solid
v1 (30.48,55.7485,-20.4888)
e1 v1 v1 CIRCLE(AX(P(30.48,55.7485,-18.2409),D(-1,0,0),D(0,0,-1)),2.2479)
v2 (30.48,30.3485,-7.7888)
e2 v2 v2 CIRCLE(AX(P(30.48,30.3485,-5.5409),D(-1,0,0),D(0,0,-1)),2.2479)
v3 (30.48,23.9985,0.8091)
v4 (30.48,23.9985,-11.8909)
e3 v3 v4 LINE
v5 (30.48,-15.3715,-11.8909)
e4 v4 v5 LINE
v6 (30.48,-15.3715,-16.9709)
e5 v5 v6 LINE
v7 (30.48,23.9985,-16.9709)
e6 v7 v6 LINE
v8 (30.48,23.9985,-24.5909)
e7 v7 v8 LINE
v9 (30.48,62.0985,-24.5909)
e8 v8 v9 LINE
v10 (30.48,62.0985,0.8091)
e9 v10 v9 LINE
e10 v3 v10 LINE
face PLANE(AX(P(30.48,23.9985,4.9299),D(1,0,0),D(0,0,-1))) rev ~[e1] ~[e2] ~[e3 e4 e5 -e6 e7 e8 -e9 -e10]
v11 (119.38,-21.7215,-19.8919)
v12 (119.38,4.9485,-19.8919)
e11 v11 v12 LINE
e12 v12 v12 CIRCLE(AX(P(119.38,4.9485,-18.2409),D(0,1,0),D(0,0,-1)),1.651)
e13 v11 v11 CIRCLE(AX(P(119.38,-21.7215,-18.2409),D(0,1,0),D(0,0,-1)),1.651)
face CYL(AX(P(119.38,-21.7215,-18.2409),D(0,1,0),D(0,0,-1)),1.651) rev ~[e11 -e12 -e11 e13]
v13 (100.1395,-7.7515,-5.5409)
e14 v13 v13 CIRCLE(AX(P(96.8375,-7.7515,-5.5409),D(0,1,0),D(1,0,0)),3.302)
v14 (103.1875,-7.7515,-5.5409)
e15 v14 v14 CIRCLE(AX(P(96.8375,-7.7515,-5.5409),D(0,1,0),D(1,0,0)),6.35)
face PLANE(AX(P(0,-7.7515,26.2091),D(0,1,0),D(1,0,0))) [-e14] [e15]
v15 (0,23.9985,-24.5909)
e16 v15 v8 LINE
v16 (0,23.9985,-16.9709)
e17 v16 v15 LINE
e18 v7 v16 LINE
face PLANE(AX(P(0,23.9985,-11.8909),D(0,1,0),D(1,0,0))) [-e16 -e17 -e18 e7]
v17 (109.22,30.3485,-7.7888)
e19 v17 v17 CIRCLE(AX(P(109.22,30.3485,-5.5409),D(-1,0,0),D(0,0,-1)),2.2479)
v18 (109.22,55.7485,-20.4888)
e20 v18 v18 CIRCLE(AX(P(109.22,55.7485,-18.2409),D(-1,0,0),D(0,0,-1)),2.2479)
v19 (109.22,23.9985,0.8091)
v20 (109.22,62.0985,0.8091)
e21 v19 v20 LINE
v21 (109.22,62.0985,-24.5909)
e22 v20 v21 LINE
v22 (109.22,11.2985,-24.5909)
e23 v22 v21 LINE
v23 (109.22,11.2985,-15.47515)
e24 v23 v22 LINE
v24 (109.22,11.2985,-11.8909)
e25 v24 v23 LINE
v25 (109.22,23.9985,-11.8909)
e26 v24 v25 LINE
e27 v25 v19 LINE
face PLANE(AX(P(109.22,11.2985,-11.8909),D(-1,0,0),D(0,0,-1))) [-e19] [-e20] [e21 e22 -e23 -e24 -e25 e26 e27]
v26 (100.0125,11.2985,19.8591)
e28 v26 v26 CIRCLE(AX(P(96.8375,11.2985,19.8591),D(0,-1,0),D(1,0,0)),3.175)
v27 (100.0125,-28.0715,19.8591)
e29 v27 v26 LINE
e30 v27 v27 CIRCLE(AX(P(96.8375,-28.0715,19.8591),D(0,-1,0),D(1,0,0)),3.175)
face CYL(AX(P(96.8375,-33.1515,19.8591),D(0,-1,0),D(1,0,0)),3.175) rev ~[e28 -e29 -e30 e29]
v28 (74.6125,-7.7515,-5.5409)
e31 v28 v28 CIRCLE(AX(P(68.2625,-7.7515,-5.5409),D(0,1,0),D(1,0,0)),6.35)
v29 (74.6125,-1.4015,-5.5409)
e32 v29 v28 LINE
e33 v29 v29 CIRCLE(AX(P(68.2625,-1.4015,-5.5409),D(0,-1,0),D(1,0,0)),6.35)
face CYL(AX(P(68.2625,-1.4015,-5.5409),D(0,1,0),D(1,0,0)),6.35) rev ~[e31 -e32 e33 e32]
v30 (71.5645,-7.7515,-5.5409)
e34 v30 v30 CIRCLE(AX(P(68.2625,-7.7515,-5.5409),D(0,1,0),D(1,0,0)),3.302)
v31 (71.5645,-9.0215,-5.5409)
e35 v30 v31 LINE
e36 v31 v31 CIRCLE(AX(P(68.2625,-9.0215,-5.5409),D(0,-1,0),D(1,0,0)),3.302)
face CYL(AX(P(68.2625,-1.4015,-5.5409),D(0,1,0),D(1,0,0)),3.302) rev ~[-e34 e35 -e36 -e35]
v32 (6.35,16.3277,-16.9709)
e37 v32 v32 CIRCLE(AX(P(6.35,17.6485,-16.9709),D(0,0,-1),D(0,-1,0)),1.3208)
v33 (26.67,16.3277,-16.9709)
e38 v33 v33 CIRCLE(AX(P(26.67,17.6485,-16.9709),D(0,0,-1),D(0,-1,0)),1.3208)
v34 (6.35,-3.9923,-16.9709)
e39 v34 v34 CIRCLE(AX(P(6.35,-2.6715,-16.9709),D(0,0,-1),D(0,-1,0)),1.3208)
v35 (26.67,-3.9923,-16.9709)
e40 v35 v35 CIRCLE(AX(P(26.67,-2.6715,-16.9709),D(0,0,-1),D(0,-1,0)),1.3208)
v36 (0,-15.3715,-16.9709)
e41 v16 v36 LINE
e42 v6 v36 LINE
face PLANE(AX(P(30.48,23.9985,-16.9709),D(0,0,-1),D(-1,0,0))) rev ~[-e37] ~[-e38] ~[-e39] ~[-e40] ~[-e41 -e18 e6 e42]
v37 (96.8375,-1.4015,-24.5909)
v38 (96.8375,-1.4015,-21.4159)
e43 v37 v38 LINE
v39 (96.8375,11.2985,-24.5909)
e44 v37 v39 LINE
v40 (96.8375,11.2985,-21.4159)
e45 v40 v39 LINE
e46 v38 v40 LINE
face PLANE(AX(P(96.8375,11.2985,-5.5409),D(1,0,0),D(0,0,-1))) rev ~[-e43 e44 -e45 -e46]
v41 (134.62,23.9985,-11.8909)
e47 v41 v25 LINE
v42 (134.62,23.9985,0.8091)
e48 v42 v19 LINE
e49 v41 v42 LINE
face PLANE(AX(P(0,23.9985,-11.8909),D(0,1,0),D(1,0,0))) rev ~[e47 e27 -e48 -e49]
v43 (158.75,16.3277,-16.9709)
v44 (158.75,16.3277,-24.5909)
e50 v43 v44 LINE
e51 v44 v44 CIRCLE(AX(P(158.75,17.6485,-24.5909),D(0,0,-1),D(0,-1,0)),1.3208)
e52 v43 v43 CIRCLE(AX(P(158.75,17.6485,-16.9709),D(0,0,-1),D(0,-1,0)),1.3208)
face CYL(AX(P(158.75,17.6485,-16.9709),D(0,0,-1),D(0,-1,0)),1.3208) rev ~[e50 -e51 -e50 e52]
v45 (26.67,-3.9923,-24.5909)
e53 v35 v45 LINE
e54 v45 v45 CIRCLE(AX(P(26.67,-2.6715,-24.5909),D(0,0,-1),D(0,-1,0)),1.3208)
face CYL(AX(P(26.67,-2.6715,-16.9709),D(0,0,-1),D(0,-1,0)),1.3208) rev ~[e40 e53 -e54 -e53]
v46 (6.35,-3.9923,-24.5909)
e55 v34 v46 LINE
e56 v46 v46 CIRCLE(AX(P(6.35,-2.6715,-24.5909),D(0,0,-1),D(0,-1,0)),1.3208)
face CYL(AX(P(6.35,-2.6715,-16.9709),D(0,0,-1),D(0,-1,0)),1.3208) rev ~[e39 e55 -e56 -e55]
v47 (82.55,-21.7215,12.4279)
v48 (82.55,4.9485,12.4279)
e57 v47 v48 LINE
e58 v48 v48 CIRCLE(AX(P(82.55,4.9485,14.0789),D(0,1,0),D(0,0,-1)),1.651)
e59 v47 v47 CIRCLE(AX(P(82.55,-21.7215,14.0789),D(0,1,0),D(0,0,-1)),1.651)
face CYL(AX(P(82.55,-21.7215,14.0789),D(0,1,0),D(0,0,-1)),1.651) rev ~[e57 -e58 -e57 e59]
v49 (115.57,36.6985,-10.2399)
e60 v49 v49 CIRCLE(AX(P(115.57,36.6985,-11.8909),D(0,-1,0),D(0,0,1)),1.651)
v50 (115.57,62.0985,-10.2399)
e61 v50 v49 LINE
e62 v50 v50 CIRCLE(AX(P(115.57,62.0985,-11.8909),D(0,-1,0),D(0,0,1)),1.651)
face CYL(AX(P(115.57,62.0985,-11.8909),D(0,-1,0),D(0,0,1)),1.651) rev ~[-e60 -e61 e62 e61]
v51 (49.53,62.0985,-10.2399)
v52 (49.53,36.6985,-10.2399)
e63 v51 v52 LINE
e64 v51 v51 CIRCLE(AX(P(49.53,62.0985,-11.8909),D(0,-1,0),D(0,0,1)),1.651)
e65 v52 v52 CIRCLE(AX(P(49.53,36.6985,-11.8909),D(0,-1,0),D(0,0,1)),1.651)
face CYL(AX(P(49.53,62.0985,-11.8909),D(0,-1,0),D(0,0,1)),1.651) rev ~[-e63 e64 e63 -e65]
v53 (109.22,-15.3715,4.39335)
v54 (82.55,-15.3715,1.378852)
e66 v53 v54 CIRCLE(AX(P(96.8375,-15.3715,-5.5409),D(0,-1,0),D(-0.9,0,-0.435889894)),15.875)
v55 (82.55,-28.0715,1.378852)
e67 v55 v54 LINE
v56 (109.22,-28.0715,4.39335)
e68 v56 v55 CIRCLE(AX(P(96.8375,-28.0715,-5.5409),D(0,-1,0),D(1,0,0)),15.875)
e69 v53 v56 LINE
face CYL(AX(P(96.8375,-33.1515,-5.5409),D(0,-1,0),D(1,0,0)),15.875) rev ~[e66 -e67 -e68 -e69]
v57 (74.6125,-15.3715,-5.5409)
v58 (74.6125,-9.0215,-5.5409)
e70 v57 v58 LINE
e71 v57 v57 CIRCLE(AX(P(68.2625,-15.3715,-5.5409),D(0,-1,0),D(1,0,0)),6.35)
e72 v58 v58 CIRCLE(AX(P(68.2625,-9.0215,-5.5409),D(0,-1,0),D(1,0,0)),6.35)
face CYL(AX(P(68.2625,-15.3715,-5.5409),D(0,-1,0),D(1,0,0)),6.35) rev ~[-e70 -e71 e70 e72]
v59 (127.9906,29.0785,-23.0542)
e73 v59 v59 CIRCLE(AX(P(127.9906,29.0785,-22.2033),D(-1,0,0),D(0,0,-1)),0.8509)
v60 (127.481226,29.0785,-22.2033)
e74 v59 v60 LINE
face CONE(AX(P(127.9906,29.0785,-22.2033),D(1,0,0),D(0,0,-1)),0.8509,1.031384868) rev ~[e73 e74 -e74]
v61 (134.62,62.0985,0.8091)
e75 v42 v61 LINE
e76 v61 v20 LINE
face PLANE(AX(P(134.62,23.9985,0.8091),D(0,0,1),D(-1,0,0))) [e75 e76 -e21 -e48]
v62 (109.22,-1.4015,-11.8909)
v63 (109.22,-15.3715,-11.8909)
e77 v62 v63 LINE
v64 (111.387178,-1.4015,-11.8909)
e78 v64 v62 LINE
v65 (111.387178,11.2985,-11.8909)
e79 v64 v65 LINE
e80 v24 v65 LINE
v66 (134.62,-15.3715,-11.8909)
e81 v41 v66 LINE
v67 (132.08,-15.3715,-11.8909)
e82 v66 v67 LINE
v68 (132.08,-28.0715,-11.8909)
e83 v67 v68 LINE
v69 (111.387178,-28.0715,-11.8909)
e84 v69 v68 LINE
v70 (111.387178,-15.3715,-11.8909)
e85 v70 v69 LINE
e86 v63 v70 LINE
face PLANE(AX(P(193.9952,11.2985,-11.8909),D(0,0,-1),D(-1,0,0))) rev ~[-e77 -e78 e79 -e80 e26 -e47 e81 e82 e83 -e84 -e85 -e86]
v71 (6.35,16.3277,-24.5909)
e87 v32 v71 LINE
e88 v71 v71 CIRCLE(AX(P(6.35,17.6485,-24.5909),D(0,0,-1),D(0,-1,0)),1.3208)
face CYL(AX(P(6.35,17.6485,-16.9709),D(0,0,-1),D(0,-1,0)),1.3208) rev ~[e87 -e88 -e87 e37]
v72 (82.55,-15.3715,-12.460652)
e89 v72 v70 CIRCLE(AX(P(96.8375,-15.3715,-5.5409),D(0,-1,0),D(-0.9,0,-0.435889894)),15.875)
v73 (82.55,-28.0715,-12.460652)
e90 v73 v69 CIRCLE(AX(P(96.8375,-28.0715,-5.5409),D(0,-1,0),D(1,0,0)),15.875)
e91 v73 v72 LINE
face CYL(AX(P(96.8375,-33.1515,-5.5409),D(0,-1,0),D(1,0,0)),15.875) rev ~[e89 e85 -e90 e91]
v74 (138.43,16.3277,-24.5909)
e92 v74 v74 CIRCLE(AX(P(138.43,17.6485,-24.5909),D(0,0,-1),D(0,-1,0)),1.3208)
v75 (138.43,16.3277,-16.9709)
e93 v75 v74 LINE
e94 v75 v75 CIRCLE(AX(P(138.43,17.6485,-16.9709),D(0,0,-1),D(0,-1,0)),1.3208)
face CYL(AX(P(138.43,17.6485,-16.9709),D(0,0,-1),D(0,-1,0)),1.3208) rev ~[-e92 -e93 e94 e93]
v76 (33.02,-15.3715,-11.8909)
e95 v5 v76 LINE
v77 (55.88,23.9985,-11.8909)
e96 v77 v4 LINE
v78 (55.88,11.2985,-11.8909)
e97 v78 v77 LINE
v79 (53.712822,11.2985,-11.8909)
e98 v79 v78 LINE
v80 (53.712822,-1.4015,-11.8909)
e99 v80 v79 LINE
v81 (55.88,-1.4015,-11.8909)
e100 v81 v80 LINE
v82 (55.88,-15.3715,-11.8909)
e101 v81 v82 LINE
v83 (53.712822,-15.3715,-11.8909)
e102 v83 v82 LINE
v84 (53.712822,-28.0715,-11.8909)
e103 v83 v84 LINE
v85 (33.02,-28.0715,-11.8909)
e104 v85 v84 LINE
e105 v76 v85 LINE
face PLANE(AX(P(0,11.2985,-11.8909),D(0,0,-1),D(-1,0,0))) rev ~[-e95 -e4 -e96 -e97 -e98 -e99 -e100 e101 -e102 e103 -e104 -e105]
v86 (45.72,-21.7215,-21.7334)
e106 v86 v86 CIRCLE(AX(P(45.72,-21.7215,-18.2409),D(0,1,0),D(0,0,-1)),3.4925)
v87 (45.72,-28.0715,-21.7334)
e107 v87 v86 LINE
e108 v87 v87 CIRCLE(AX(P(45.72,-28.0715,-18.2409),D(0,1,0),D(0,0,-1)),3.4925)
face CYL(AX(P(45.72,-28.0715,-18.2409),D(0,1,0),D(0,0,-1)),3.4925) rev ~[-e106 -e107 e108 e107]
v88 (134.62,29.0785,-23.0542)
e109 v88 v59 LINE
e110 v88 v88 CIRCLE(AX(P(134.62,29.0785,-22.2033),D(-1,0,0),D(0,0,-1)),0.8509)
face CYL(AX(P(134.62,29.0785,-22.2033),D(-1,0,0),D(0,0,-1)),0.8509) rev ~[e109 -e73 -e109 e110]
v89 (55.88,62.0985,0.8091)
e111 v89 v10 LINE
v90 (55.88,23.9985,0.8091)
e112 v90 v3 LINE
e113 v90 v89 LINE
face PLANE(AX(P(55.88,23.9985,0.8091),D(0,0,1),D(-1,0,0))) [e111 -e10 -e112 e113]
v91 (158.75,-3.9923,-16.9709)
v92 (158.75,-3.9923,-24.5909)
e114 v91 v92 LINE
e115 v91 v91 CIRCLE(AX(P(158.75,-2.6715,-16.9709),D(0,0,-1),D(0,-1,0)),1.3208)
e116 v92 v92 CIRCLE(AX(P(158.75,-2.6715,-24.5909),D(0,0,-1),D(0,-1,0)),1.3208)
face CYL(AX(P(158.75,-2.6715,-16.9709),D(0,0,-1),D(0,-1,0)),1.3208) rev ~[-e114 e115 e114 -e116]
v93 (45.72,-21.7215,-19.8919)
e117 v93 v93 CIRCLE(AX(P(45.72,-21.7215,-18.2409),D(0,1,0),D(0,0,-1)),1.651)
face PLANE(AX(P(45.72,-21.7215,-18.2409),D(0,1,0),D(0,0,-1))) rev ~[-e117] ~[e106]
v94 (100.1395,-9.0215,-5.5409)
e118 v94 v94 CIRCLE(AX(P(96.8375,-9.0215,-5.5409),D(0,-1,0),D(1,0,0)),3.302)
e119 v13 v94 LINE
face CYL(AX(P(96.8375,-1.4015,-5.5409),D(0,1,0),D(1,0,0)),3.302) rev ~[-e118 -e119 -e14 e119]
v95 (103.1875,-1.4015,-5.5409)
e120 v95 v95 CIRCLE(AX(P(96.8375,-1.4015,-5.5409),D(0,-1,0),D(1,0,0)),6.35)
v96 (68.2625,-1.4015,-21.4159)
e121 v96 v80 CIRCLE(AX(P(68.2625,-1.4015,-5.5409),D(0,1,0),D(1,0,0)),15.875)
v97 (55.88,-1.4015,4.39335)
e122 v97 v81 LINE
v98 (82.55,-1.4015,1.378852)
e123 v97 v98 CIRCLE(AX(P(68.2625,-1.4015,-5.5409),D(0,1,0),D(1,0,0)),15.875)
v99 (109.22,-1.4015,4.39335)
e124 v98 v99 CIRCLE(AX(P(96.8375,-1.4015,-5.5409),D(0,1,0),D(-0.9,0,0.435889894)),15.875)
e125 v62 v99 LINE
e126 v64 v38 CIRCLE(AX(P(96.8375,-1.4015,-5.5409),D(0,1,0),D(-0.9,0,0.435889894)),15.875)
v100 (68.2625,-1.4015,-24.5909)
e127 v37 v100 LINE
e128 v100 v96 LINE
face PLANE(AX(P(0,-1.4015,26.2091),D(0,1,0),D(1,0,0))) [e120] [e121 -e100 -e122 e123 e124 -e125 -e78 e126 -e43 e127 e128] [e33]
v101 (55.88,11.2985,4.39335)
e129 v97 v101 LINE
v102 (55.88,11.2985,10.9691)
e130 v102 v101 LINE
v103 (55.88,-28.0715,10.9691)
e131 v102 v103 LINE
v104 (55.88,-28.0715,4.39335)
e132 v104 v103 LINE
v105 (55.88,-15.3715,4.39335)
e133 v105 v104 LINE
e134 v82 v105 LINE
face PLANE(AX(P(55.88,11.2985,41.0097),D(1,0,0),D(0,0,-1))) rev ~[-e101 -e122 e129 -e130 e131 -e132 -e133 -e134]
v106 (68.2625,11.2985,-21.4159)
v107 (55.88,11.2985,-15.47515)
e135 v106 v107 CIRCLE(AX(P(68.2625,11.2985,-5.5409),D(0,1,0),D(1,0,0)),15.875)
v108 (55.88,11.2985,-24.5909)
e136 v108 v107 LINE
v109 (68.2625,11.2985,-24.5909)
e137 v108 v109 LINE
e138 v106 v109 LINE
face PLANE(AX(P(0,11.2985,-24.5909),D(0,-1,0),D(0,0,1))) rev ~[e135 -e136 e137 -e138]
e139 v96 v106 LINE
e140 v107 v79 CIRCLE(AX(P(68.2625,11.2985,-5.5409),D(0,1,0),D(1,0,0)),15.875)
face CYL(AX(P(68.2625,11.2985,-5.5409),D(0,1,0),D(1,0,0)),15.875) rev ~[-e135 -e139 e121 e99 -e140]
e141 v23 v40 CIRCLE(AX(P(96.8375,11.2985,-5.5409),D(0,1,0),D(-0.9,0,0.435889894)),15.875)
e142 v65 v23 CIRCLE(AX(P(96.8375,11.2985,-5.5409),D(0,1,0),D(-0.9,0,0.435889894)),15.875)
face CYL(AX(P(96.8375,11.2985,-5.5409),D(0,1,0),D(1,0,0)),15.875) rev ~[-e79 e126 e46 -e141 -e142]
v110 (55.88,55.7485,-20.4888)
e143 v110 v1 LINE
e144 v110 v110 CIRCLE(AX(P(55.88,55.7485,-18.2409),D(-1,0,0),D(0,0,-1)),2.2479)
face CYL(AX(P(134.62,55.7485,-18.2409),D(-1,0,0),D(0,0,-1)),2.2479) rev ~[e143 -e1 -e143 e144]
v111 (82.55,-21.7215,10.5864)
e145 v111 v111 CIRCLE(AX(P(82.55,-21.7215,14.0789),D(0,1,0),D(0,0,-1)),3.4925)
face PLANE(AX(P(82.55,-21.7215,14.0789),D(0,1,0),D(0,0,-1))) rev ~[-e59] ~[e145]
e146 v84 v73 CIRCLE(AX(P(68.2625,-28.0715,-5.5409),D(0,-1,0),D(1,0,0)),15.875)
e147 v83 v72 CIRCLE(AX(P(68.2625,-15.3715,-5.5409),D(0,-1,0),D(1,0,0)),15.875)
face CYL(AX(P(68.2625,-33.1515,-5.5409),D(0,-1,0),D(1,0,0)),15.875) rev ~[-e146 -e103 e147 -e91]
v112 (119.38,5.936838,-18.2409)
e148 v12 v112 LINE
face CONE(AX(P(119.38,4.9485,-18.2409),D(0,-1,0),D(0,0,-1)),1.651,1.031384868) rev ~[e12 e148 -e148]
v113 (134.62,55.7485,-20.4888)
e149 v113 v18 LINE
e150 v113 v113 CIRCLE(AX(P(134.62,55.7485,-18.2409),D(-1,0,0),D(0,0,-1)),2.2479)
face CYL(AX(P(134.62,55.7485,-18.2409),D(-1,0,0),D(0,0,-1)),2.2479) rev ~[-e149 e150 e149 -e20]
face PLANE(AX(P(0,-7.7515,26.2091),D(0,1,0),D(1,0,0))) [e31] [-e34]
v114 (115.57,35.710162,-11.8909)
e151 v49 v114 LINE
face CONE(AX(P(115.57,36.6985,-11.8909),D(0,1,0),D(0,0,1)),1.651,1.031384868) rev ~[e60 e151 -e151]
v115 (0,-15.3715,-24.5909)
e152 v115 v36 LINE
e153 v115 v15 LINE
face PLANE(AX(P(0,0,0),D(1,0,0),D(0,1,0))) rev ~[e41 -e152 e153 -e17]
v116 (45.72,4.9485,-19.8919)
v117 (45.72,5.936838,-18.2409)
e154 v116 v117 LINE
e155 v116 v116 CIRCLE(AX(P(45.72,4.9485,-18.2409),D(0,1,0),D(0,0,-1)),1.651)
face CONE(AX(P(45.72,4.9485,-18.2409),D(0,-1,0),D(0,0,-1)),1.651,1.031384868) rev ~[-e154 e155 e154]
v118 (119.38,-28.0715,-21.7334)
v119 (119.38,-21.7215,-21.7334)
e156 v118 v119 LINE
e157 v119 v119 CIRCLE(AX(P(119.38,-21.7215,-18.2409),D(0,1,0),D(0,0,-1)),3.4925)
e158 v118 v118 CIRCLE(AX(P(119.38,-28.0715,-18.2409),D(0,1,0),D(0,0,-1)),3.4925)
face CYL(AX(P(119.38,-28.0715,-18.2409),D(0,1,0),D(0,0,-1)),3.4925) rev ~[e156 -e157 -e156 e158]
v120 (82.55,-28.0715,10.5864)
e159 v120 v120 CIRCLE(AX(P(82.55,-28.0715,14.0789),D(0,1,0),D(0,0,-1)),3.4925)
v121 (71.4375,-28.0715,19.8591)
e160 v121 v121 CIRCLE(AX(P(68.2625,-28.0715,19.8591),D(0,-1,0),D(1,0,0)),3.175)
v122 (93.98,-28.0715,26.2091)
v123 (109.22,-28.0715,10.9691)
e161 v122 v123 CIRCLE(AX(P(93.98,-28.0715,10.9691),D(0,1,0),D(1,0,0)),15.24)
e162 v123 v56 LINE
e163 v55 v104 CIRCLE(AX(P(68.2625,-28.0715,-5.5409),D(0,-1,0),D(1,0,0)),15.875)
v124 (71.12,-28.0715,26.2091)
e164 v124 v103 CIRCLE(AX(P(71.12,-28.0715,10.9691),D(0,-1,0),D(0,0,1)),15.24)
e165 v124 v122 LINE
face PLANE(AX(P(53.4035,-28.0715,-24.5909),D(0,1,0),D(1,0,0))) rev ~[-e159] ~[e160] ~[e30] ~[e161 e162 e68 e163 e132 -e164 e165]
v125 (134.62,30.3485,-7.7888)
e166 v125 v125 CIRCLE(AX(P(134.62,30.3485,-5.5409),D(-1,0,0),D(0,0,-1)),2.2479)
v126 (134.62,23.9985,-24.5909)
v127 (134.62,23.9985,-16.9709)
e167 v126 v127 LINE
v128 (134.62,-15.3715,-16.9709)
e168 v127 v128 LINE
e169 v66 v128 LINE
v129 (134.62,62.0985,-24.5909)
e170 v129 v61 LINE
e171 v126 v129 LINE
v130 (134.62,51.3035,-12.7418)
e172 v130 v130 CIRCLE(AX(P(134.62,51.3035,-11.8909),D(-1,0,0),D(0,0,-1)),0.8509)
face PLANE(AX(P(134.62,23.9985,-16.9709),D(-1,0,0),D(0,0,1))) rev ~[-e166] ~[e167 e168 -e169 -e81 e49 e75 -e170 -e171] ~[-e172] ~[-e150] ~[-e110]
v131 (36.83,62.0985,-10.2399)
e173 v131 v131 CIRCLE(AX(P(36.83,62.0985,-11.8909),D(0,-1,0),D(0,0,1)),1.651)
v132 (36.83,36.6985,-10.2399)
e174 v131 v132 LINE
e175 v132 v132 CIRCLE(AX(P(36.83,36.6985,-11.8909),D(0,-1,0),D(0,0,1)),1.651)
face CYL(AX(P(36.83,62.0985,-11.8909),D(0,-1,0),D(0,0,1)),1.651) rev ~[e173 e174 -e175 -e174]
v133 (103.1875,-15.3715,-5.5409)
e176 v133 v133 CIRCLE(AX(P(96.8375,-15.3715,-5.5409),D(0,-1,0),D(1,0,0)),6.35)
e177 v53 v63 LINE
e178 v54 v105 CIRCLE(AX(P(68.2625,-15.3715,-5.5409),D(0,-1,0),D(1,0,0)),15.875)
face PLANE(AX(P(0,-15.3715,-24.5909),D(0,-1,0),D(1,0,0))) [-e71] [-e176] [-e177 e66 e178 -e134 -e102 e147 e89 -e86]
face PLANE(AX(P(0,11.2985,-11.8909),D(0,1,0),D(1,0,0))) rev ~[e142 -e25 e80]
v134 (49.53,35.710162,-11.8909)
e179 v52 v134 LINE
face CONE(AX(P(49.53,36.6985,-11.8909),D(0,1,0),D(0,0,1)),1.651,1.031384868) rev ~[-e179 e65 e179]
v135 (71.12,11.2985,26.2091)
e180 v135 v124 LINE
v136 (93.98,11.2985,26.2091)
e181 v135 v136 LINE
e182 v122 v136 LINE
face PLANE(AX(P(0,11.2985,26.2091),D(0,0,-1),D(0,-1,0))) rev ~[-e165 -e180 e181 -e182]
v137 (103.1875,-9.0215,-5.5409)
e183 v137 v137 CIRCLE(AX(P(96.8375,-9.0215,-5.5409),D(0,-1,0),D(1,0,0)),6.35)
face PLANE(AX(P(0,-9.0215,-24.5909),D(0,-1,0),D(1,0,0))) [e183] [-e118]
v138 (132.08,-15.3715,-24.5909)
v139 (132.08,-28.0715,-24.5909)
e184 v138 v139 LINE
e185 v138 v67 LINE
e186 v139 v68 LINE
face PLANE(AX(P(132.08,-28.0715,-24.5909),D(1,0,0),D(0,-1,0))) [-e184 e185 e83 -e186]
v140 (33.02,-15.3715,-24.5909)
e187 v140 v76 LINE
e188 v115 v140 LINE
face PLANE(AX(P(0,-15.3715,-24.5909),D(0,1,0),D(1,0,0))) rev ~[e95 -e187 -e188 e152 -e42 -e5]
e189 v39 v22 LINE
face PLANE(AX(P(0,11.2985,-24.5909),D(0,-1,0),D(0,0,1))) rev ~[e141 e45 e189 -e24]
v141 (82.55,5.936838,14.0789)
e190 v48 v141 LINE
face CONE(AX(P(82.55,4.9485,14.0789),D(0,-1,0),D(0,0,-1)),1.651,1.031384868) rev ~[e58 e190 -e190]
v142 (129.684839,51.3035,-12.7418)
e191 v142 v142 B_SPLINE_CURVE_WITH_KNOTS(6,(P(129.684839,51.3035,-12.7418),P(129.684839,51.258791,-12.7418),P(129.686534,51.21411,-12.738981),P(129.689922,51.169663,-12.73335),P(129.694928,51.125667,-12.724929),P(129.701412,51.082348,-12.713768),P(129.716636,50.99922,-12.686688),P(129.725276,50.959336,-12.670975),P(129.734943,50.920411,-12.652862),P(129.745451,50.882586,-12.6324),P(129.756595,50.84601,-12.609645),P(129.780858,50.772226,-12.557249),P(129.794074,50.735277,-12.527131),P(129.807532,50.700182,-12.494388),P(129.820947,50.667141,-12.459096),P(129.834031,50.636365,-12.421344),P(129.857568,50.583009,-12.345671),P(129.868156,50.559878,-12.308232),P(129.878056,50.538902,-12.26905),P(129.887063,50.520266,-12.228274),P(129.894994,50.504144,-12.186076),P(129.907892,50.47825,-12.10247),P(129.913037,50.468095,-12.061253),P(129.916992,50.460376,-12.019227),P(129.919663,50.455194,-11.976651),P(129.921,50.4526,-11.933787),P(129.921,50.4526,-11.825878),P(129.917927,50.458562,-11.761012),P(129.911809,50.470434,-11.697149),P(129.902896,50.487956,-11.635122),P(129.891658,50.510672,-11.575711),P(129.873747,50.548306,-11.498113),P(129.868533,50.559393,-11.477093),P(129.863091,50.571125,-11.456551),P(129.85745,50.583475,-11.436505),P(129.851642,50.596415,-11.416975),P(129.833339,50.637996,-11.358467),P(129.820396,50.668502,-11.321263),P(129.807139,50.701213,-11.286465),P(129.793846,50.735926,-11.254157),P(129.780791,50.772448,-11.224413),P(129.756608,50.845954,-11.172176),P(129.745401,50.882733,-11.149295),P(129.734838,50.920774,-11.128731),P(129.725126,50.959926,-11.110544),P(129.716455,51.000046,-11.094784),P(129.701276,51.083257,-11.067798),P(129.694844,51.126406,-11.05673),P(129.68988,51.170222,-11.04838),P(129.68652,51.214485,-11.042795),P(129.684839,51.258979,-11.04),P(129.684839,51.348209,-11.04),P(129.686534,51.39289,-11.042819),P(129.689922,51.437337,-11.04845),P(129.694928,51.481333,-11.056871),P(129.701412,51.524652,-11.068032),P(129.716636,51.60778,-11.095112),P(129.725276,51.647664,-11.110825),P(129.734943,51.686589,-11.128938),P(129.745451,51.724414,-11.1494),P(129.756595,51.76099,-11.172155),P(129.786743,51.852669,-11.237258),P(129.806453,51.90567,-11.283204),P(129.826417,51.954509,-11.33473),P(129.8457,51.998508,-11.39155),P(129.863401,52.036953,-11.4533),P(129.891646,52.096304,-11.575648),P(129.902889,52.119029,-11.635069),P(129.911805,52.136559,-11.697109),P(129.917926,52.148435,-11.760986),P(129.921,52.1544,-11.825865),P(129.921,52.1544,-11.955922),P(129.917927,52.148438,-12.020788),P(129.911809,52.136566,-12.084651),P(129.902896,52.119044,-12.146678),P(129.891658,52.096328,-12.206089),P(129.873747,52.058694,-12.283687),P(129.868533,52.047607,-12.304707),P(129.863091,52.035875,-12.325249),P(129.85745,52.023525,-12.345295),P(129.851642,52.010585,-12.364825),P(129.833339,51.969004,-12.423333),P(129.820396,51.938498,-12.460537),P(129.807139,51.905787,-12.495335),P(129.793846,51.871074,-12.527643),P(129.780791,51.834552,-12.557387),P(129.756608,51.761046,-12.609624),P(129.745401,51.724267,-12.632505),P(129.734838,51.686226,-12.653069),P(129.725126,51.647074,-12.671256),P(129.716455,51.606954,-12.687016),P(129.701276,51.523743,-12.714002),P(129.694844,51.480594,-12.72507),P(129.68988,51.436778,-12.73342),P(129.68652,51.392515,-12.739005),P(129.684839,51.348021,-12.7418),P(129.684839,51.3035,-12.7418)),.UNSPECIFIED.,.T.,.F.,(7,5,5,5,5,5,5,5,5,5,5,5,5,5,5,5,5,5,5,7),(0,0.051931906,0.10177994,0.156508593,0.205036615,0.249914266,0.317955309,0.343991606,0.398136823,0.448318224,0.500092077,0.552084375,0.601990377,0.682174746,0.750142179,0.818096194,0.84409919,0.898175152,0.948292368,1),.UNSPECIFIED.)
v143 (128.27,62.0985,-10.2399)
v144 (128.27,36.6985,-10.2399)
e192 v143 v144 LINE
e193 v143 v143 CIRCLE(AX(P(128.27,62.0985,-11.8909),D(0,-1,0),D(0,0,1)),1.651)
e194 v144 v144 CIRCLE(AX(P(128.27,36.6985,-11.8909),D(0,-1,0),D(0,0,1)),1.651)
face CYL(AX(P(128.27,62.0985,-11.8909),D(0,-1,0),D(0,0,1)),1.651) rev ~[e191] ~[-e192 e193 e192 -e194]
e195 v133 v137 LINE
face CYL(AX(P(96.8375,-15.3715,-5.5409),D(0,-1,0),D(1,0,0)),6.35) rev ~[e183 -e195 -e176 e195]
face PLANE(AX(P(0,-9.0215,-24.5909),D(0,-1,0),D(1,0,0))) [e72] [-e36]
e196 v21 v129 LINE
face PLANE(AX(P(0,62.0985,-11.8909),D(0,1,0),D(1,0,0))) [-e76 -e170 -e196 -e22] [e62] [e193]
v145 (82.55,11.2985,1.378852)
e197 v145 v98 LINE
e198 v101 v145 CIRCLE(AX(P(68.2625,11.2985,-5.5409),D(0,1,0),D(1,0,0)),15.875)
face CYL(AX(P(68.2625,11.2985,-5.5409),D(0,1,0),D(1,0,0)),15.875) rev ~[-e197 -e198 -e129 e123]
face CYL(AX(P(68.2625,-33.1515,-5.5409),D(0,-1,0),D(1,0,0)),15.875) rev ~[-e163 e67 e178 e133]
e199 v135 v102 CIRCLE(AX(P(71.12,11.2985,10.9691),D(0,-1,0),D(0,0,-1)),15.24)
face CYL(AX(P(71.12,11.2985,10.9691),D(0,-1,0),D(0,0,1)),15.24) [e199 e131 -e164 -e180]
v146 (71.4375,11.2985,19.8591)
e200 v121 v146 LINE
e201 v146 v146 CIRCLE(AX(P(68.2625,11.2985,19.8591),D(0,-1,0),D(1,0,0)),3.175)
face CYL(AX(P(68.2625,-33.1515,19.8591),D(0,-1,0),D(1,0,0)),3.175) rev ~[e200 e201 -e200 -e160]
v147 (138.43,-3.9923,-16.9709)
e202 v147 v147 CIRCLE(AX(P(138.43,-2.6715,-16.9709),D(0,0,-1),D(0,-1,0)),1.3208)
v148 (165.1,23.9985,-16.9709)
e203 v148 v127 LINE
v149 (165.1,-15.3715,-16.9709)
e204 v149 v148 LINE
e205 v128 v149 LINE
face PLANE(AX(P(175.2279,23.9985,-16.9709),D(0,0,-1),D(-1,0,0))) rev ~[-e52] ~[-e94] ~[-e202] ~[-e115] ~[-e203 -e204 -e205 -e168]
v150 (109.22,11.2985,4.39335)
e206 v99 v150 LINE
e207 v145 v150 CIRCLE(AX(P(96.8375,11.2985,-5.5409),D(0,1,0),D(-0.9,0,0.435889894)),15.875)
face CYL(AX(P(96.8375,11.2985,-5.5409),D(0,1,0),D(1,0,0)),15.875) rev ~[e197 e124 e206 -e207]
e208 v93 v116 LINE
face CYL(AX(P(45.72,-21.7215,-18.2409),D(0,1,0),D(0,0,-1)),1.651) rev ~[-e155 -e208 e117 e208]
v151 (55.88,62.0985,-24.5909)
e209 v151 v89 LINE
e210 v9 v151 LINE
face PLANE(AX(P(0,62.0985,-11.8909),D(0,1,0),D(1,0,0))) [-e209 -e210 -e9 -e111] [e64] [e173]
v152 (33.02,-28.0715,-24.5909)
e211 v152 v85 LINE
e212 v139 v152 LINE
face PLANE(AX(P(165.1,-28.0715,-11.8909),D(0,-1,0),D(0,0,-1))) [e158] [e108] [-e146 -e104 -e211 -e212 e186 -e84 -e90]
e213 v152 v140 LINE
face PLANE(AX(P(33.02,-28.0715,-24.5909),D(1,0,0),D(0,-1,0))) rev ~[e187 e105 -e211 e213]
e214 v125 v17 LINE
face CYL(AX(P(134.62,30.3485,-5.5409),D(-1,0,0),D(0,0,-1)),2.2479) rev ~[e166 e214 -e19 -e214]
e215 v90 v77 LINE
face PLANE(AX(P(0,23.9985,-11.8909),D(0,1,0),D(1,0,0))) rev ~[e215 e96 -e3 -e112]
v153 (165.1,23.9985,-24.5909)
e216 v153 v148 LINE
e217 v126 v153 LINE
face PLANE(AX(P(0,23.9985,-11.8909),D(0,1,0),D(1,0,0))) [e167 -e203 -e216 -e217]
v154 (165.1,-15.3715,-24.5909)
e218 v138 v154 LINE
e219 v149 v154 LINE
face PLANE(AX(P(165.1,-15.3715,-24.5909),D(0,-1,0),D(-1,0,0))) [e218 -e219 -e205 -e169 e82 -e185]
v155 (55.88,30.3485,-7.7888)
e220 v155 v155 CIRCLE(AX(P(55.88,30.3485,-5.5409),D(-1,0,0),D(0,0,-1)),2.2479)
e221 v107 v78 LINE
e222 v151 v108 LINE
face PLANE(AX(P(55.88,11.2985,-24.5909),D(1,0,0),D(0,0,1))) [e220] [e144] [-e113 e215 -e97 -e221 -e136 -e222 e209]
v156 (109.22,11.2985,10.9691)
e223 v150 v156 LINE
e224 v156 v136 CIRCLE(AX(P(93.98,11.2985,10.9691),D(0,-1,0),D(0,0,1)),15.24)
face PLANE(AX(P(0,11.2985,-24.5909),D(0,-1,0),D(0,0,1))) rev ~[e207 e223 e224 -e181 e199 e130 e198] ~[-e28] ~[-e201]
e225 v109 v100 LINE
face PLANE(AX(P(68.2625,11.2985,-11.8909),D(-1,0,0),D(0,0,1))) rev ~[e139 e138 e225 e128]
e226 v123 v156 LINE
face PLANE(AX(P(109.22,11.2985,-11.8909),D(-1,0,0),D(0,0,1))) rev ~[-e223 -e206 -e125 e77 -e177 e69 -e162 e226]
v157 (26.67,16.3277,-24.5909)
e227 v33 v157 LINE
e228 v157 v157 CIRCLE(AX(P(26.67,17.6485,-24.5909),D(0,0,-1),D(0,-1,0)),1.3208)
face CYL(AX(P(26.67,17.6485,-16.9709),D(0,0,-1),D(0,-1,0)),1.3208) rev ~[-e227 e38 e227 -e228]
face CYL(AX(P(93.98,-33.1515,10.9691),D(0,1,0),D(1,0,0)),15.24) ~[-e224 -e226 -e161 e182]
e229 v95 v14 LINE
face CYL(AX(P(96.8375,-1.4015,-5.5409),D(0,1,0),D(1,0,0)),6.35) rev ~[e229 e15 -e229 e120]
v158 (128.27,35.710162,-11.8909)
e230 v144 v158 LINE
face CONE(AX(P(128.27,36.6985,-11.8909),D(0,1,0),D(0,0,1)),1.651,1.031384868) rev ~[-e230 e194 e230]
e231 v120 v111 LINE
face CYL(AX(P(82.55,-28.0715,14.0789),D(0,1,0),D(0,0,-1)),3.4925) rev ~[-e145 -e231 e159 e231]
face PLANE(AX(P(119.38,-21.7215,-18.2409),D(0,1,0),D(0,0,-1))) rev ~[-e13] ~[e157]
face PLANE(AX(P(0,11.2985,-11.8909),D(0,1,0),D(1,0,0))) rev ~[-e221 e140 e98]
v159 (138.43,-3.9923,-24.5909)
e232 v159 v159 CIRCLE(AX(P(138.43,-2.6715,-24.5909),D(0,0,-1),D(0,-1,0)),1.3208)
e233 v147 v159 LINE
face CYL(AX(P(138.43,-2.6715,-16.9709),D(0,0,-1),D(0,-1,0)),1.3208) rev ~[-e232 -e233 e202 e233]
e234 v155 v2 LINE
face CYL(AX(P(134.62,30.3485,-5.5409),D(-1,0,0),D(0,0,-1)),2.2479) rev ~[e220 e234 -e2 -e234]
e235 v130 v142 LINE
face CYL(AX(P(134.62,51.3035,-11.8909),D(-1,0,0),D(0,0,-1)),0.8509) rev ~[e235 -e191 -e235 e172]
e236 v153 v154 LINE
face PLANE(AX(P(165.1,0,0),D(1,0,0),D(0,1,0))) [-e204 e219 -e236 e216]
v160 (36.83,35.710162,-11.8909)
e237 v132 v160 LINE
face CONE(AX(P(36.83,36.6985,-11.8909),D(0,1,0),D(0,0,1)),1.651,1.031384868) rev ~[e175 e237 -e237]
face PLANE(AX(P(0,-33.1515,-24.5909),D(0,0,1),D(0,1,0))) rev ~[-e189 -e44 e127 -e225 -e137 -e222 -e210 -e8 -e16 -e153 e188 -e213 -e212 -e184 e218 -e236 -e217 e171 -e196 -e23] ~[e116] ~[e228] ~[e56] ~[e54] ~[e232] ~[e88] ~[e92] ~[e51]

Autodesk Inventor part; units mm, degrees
ref_plane "YZ Plane" through (0, 0, 0) normal (1, 0, 0) x (0, 1, 0)
ref_plane "XZ Plane" through (0, 0, 0) normal (0, 1, 0) x (-1, 0, 0)
ref_plane "XY Plane" through (0, 0, 0) normal (0, 0, 1) x (1, 0, 0)
sketch "Sketch1" plane through (0, 0, 0) normal (1, 0, 0) x (0, 1, 0)
  line L0 (11.2985, 26.2091) -> (-33.1515, 26.2091)
  line L1 (-33.1515, 26.2091) -> (-33.1515, -24.5909)
  line L2 (-33.1515, -24.5909) -> (11.2985, -24.5909)
  line L3 (11.2985, -24.5909) -> (11.2985, 26.2091)
  point P0 (0, 0)
  dimension "d0" = 50.8
  dimension "d1" = 44.45
extrude "Extrusion1" add sketch "Sketch1" along normal blind 165.1
sketch "Sketch2" plane through (0, 11.2985, 26.2091) normal (0, 1, 0) x (1, 0, 0)
  circle A0 centre (68.2625, 31.75) radius 15.875
  circle A1 centre (96.8375, 31.75) radius 15.875
  line L0 (0, 50.8) -> (0, 0) projected
  line L1 (0, 50.8) -> (165.1, 50.8) projected
  point P0 (0, 26.2091)
  dimension "d4" = 31.75
  dimension "d5" = 31.75
  dimension "d6" = 0
  dimension "d7" = 28.575
  dimension "d8" = 68.2625
  dimension "d9" = 19.05
extrude "Extrusion2" cut sketch "Sketch2" against normal blind 12.7
sketch "Sketch3" plane through (0, -1.4015, 26.2091) normal (0, 1, 0) x (1, 0, 0)
  circle A0 centre (96.8375, 31.75) radius 15.875 projected
  circle A1 centre (68.2625, 31.75) radius 15.875 projected
  circle A2 centre (68.2625, 31.75) radius 3.302
  circle A3 centre (96.8375, 31.75) radius 3.302
  point P0 (0, 26.2091)
  point P1 (82.55, 38.6698)
  point P2 (82.55, 24.8302)
  dimension "d12" = 6.604
  dimension "d13" = 6.604
extrude "Extrusion3" cut sketch "Sketch3" against normal blind 76.2 contours A2 | A3
sketch "Sketch4" plane through (0, -33.1515, -24.5909) normal (0, -1, 0) x (1, 0, 0)
  circle A0 centre (68.2625, 19.05) radius 3.302 projected
  circle A1 centre (96.8375, 19.05) radius 3.302 projected
  line L0 (0, 50.8) -> (0, 0) projected
  line L1 (0, 0) -> (165.1, 0) projected
  line L2 (165.1, 50.8) -> (165.1, 0) projected
  line L3 (0, 50.8) -> (165.1, 50.8) projected
  circle A2 centre (96.8375, 19.05) radius 3.302 projected
  circle A3 centre (68.2625, 19.05) radius 15.875
  circle A4 centre (96.8375, 19.05) radius 15.875
  point P0 (0, 24.5909)
  dimension "d16" = 31.75
  dimension "d17" = 31.75
extrude "Extrusion4" cut sketch "Sketch4" against normal blind 17.78 contours A3 A4 | A3 A4 | A4 A3
sketch "Sketch5" plane through (0, -15.3715, -24.5909) normal (0, -1, 0) x (1, 0, 0)
  circle A0 centre (68.2625, 19.05) radius 3.302 projected
  circle A1 centre (96.8375, 19.05) radius 3.302 projected
  circle A2 centre (68.2625, 19.05) radius 6.35
  circle A3 centre (96.8375, 19.05) radius 6.35
  point P0 (0, 24.5909)
  dimension "d20" = 12.7
  dimension "d21" = 12.7
extrude "Extrusion5" cut sketch "Sketch5" against normal blind 6.35
sketch "Sketch6" plane through (0, -1.4015, 26.2091) normal (0, 1, 0) x (1, 0, 0)
  circle A0 centre (68.2625, 31.75) radius 3.302 projected
  circle A1 centre (96.8375, 31.75) radius 3.302 projected
  circle A2 centre (68.2625, 31.75) radius 6.35
  circle A3 centre (96.8375, 31.75) radius 6.35
  point P0 (0, 26.2091)
  dimension "d24" = 12.7
  dimension "d25" = 12.7
extrude "Extrusion6" cut sketch "Sketch6" against normal blind 6.35
sketch "Sketch7" plane through (0, -33.1515, -24.5909) normal (0, -1, 0) x (1, 0, 0)
  circle A0 centre (68.2625, 44.45) radius 3.175
  circle A1 centre (96.8375, 44.45) radius 3.175
  circle A2 centre (68.2625, 19.05) radius 3.302 projected
  circle A3 centre (96.8375, 19.05) radius 3.302 projected
  point P0 (0, 24.5909)
  dimension "d28" = 6.35
  dimension "d29" = 6.35
  dimension "d30" = 28.575
  dimension "d31" = 0
  dimension "d32" = 25.4
  dimension "d33" = 25.4
extrude "Extrusion7" cut sketch "Sketch7" against normal blind 76.2 contours A0 | A1
sketch "Sketch8" plane through (0, 11.2985, 26.2091) normal (0, 1, 0) x (1, 0, 0)
  line L0 (-37.599, -14.8006) -> (55.88, -14.8006)
  line L1 (55.88, -14.8006) -> (55.88, 38.1)
  line L2 (55.88, 38.1) -> (-37.599, 38.1)
  line L3 (-37.599, 38.1) -> (-37.599, -14.8006)
  line L4 (109.22, -16.386) -> (193.9952, -16.386)
  line L5 (193.9952, -16.386) -> (193.9952, 38.1)
  line L6 (193.9952, 38.1) -> (109.22, 38.1)
  line L7 (109.22, 38.1) -> (109.22, -16.386)
  line L8 (0, 50.8) -> (165.1, 50.8) projected
  line L9 (0, 50.8) -> (0, 0) projected
  line L10 (165.1, 50.8) -> (165.1, 0) projected
  point P0 (0, 26.2091)
  dimension "d36" = 12.7
  dimension "d37" = 55.88
  dimension "d38" = 12.7
  dimension "d39" = 55.88
extrude "Extrusion8" cut sketch "Sketch8" against normal blind 76.2
fillet "Fillet1" radius 15.24 1 edges at (109.22, -10.9265, 26.2091)
fillet "Fillet2" radius 15.24 1 edges at (55.88, -10.9265, 26.2091)
sketch "Sketch10" plane through (0, 11.2985, -24.5909) normal (0, 1, 0) x (1, 0, 0)
  circle A0 centre (68.2625, -19.05) radius 6.35 projected
  circle A1 centre (96.8375, -19.05) radius 6.35 projected
  line L0 (68.2625, -19.05) -> (96.8375, -19.05)
  line L1 (96.8375, -19.05) -> (96.8375, 8.338)
  line L2 (96.8375, 8.338) -> (68.2625, 8.338)
  line L3 (68.2625, 8.338) -> (68.2625, -19.05)
  point P0 (0, -24.5909)
  dimension "d46" = 0
  dimension "d47" = 0
  dimension "d48" = 0
extrude "Extrusion9" cut sketch "Sketch10" against normal blind 12.7 contours L0 L3 A0 | A0 L3 L2 L1 A1 L0 | A1 L1 L0 picked at (71.2371, -16.0754) picked at (95.4481, -15.0794)
sketch "Sketch11" plane through (0, 11.2985, -11.8909) normal (0, 1, 0) x (1, 0, 0)
  line L0 (165.1, 0) -> (109.22, 0)
  line L1 (109.22, 0) -> (109.22, 12.7)
  line L2 (109.22, 12.7) -> (165.1, 12.7)
  line L3 (165.1, 12.7) -> (165.1, 0)
  line L4 (55.88, 0) -> (0, 0)
  line L5 (0, 0) -> (0, 12.7)
  line L6 (0, 12.7) -> (55.88, 12.7)
  line L7 (55.88, 12.7) -> (55.88, 0)
  line L8 (109.22, -22.86) -> (109.22, -16.2842) projected
  line L9 (96.8375, 12.7) -> (165.1, 12.7) projected
  line L10 (111.3872, 0) -> (165.1, 0) projected
  line L11 (55.88, -16.2842) -> (55.88, -22.86) projected
  line L12 (0, 0) -> (53.7128, 0) projected
  line L13 (0, 12.7) -> (68.2625, 12.7) projected
  line L14 (0, 12.7) -> (0, 0) projected
  line L15 (165.1, 12.7) -> (165.1, 0) projected
  point P0 (0, -11.8909)
  point P1 (109.22, 0)
  point P2 (55.88, 0)
  dimension "d54" = 0
  dimension "d55" = 0
  dimension "d57" = 0
  dimension "d58" = 0
  dimension "d59" = 0
  dimension "d60" = 0
  dimension "d120" = 0
  dimension "d121" = 0
  dimension "d122" = 53.34
extrude "Extrusion10" add sketch "Sketch11" along normal blind 12.7
sketch "Sketch12" plane through (0, 23.9985, -11.8909) normal (0, 1, 0) x (1, 0, 0)
  line L0 (134.62, -12.7) -> (109.22, -12.7)
  line L1 (109.22, -12.7) -> (109.22, 12.7)
  line L2 (109.22, 12.7) -> (134.62, 12.7)
  line L3 (134.62, 12.7) -> (134.62, -12.7)
  line L4 (55.88, -12.7) -> (30.48, -12.7)
  line L5 (30.48, -12.7) -> (30.48, 12.7)
  line L6 (30.48, 12.7) -> (55.88, 12.7)
  line L7 (55.88, 12.7) -> (55.88, -12.7)
  line L8 (165.1, 12.7) -> (109.22, 12.7) projected
  line L9 (55.88, 12.7) -> (0, 12.7) projected
  line L10 (55.88, -16.2842) -> (55.88, -22.86) projected
  line L11 (109.22, -22.86) -> (109.22, -16.2842) projected
  line L12 (55.88, 0) -> (55.88, 12.7) projected
  line L13 (109.22, 12.7) -> (109.22, 0) projected
  point P0 (0, -11.8909)
  point P1 (55.88, 0)
  dimension "d63" = 25.4
  dimension "d64" = 25.4
  dimension "d65" = 0
  dimension "d66" = 0
  dimension "d68" = 25.4
  dimension "d69" = 25.4
  dimension "d123" = 0
  dimension "d124" = 0
extrude "Extrusion11" add sketch "Sketch12" along normal blind 38.1
sketch "Sketch13" plane through (134.62, 23.9985, 0.8091) normal (1, 0, 0) x (0, 0, -1)
  line L0 (0, 0) -> (0, 38.1) projected
  line L1 (12.7, 0) -> (0, 0) projected
  point P0 (0.8091, -23.9985)
  point P1 (6.35, 6.35)
  point P2 (19.05, 31.75)
  dimension "d73" = 6.35
  dimension "d74" = 6.35
  dimension "d75" = 31.75
  dimension "d76" = 19.05
hole "Hole1" at (134.62, 30.3485, -5.5409) at (134.62, 55.7485, -18.2409) direction (-1, 0, 0) diameter 4.4958 end through all clearance for "Flat Head Machine Screw (82)" size "#8" standard "Ansi Unified Screw Threads"
sketch "Sketch17" plane through (0, 62.0985, -11.8909) normal (0, 1, 0) x (1, 0, 0)
  line L0 (134.62, 12.7) -> (109.22, 12.7) projected
  line L1 (134.62, -12.7) -> (134.62, 12.7) projected
  line L2 (109.22, 12.7) -> (109.22, -12.7) projected
  line L3 (30.48, 12.7) -> (30.48, -12.7) projected
  line L4 (55.88, -12.7) -> (55.88, 12.7) projected
  line L5 (55.88, 12.7) -> (30.48, 12.7) projected
  point P0 (0, -11.8909)
  point P1 (36.83, 0)
  point P2 (49.53, 0)
  point P3 (115.57, 0)
  point P4 (128.27, 0)
  dimension "d103" = 12.7
  dimension "d104" = 6.35
  dimension "d107" = 6.35
  dimension "d108" = 0
  dimension "d109" = 6.35
  dimension "d110" = 6.35
  dimension "d111" = 12.7
  dimension "d112" = 12.7
hole "Hole2" at (36.83, 62.0985, -11.8909) at (49.53, 62.0985, -11.8909) at (115.57, 62.0985, -11.8909) at (128.27, 62.0985, -11.8909) direction (0, -1, 0) diameter 3.302 depth 25.4 tip angle 118.188 thread size "8-32 UNC" class "2B" standard "ANSI Unified Screw Threads"
sketch "Sketch18" plane through (165.1, 0, 0) normal (1, 0, 0) x (0, 0, -1)
  line L0 (11.8909, -28.0715) -> (34.8193, -28.0715)
  line L1 (34.8193, -28.0715) -> (34.8193, -40.9464)
  line L2 (34.8193, -40.9464) -> (11.8909, -40.9464)
  line L3 (11.8909, -40.9464) -> (11.8909, -28.0715)
  line L4 (11.8909, -33.1515) -> (24.5909, -33.1515) projected
  line L5 (11.8909, -33.1515) -> (11.8909, 23.9985) projected
  point P0 (0, 0)
  dimension "d125" = 5.08
  dimension "d126" = 0
extrude "Extrusion14" cut sketch "Sketch18" against normal blind 185.7375
sketch "Sketch19" plane through (96.8375, -1.4015, -24.5909) normal (0, 0, -1) x (-1, 0, 0)
  line L0 (63.8175, -33.8983) -> (99.5096, -33.8983)
  line L1 (99.5096, -33.8983) -> (99.5096, -13.97)
  line L2 (99.5096, -13.97) -> (63.8175, -13.97)
  line L3 (63.8175, -13.97) -> (63.8175, -33.8983)
  line L4 (-35.2425, -40.1175) -> (-92.1403, -40.1175)
  line L5 (-92.1403, -40.1175) -> (-92.1403, -13.97)
  line L6 (-92.1403, -13.97) -> (-35.2425, -13.97)
  line L7 (-35.2425, -13.97) -> (-35.2425, -40.1175)
  line L8 (-68.2625, -26.67) -> (96.8375, -26.67) projected
  line L9 (-68.2625, -26.67) -> (-68.2625, 25.4) projected
  line L10 (96.8375, -26.67) -> (96.8375, 25.4) projected
  point P0 (96.8375, 1.4015)
  dimension "d129" = 12.7
  dimension "d130" = 33.02
  dimension "d131" = 33.02
  dimension "d132" = 12.7
extrude "Extrusion17" cut sketch "Sketch19" against normal blind 185.7375
sketch "Sketch22" plane through (0, 23.9985, -11.8909) normal (0, 1, 0) x (1, 0, 0)
  line L0 (0, -16.8208) -> (30.48, -16.8208)
  line L1 (30.48, -16.8208) -> (30.48, 5.08)
  line L2 (30.48, 5.08) -> (0, 5.08)
  line L3 (0, 5.08) -> (0, -16.8208)
  line L4 (30.48, 12.7) -> (30.48, -12.7) projected
  line L5 (0, 12.7) -> (0, 0) projected
  line L6 (0, 0) -> (30.48, 0) projected
  point P0 (0, -11.8909)
  dimension "d140" = 0
  dimension "d141" = 0
  dimension "d142" = 5.08
extrude "Extrusion18" cut sketch "Sketch22" against normal blind 185.7375
sketch "Sketch23" plane through (0, 23.9985, -11.8909) normal (0, 1, 0) x (1, 0, 0)
  line L0 (175.2279, 5.08) -> (134.62, 5.08)
  line L1 (134.62, 5.08) -> (134.62, -15.5442)
  line L2 (134.62, -15.5442) -> (175.2279, -15.5442)
  line L3 (175.2279, -15.5442) -> (175.2279, 5.08)
  line L4 (134.62, -12.7) -> (134.62, 12.7) projected
  line L5 (134.62, 0) -> (165.1, 0) projected
  point P0 (0, -11.8909)
  dimension "d145" = 0
  dimension "d146" = 5.08
extrude "Extrusion19" cut sketch "Sketch23" against normal blind 185.7375
sketch "Sketch24" plane through (0, 23.9985, -16.9709) normal (0, 0, 1) x (1, 0, 0)
  line L0 (0, -39.37) -> (0, 0) projected
  line L1 (30.48, 0) -> (30.48, -39.37) projected
  line L2 (0, 0) -> (30.48, 0) projected
  line L3 (30.48, -39.37) -> (0, -39.37) projected
  point P0 (0, -23.9985)
  point P1 (26.67, -6.35)
  point P2 (26.67, -26.67)
  point P3 (6.35, -26.67)
  point P4 (6.35, -6.35)
  dimension "d149" = 6.35
  dimension "d150" = 3.81
  dimension "d151" = 3.81
  dimension "d152" = 0
  dimension "d153" = 0
  dimension "d154" = 0
  dimension "d155" = 6.35
  dimension "d156" = 12.7
hole "Hole3" at (26.67, 17.6485, -16.9709) at (26.67, -2.6715, -16.9709) at (6.35, -2.6715, -16.9709) at (6.35, 17.6485, -16.9709) direction (0, 0, -1) diameter 2.6416 depth 10.9728 tip angle 118.188 thread size "6-32 UNC" class "2B" standard "ANSI Unified Screw Threads"
sketch "Sketch25" plane through (134.62, 23.9985, -16.9709) normal (0, 0, 1) x (1, 0, 0)
  line L0 (30.48, 0) -> (30.48, -39.37) projected
  line L1 (0, 0) -> (30.48, 0) projected
  line L2 (30.48, -39.37) -> (0, -39.37) projected
  line L3 (0, -39.37) -> (0, 0) projected
  point P0 (-134.62, -23.9985)
  point P1 (24.13, -6.35)
  point P2 (24.13, -26.67)
  point P3 (3.81, -6.35)
  point P4 (3.81, -26.67)
  dimension "d164" = 6.35
  dimension "d165" = 6.35
  dimension "d166" = 0
  dimension "d167" = 12.7
  dimension "d168" = 0
  dimension "d169" = 0
  dimension "d170" = 3.81
  dimension "d171" = 3.81
hole "Hole4" at (158.75, 17.6485, -16.9709) at (158.75, -2.6715, -16.9709) at (138.43, 17.6485, -16.9709) at (138.43, -2.6715, -16.9709) direction (0, 0, -1) diameter 2.6416 depth 10.9728 tip angle 118.188 thread size "6-32 UNC" class "2B" standard "ANSI Unified Screw Threads"
sketch "Sketch26" plane through (134.62, 23.9985, -24.5909) normal (1, 0, 0) x (0, 0, -1)
  line L0 (-12.7, 0) -> (-25.4, 0) projected
  line L1 (-25.4, 0) -> (-25.4, 38.1) projected
  point P0 (-24.5909, -23.9985)
  point P1 (-2.3876, 5.08)
  point P2 (-12.7, 27.305)
  dimension "d181" = 5.08
  dimension "d182" = 12.7
  dimension "d190" = 10.3124
  dimension "d191" = 22.225
hole "Hole5" at (134.62, 29.0785, -22.2033) at (134.62, 51.3035, -11.8909) direction (-1, 0, 0) diameter 1.7018 depth 6.6294 tip angle 118.188
sketch "Sketch29" plane through (96.8375, -1.4015, -24.5909) normal (0, 0, -1) x (-1, 0, 0)
  line L0 (-16.9182, -48.8604) -> (43.434, -48.8604)
  line L1 (43.434, -48.8604) -> (43.434, -26.67)
  line L2 (43.434, -26.67) -> (-16.9182, -26.67)
  line L3 (-16.9182, -26.67) -> (-16.9182, -48.8604)
  line L4 (-35.2425, -26.67) -> (63.8175, -26.67) projected
  point P0 (96.8375, 1.4015)
  dimension "d208" = 0
extrude "Extrusion21" cut sketch "Sketch29" against normal blind 482.6
sketch "Sketch30" plane through (71.12, -28.0715, 26.2091) normal (0, -1, 0) x (1, 0, 0)
  line L0 (60.96, -50.8) -> (60.96, -38.1) projected
  line L1 (60.96, -50.8) -> (-38.1, -50.8) projected
  line L2 (-38.1, -38.1) -> (-38.1, -50.8) projected
  arc A0 (38.1, -21.8158) -> (11.43, -24.8302) centre (25.7175, -31.75) ccw projected
  arc A1 (11.43, -24.8302) -> (-15.24, -21.8158) centre (-2.8575, -31.75) ccw projected
  point P0 (-71.12, -26.2091)
  point P1 (11.43, -12.1302)
  point P2 (-25.4, -44.45)
  point P3 (48.26, -44.45)
  dimension "d211" = 12.7
  dimension "d212" = 6.35
  dimension "d213" = 12.7
  dimension "d214" = 6.35
  dimension "d215" = 0
  dimension "d216" = 12.7
hole "Hole7" at (45.72, -28.0715, -18.2409) at (82.55, -28.0715, 14.0789) at (119.38, -28.0715, -18.2409) direction (0, 1, 0) diameter 3.302 depth 33.02 tip angle 118.188 counterbore diameter 6.985 counterbore depth 6.35 thread size "8-32 UNC" class "2B" standard "ANSI Unified Screw Threads"
properties part number "GripperBlock"
